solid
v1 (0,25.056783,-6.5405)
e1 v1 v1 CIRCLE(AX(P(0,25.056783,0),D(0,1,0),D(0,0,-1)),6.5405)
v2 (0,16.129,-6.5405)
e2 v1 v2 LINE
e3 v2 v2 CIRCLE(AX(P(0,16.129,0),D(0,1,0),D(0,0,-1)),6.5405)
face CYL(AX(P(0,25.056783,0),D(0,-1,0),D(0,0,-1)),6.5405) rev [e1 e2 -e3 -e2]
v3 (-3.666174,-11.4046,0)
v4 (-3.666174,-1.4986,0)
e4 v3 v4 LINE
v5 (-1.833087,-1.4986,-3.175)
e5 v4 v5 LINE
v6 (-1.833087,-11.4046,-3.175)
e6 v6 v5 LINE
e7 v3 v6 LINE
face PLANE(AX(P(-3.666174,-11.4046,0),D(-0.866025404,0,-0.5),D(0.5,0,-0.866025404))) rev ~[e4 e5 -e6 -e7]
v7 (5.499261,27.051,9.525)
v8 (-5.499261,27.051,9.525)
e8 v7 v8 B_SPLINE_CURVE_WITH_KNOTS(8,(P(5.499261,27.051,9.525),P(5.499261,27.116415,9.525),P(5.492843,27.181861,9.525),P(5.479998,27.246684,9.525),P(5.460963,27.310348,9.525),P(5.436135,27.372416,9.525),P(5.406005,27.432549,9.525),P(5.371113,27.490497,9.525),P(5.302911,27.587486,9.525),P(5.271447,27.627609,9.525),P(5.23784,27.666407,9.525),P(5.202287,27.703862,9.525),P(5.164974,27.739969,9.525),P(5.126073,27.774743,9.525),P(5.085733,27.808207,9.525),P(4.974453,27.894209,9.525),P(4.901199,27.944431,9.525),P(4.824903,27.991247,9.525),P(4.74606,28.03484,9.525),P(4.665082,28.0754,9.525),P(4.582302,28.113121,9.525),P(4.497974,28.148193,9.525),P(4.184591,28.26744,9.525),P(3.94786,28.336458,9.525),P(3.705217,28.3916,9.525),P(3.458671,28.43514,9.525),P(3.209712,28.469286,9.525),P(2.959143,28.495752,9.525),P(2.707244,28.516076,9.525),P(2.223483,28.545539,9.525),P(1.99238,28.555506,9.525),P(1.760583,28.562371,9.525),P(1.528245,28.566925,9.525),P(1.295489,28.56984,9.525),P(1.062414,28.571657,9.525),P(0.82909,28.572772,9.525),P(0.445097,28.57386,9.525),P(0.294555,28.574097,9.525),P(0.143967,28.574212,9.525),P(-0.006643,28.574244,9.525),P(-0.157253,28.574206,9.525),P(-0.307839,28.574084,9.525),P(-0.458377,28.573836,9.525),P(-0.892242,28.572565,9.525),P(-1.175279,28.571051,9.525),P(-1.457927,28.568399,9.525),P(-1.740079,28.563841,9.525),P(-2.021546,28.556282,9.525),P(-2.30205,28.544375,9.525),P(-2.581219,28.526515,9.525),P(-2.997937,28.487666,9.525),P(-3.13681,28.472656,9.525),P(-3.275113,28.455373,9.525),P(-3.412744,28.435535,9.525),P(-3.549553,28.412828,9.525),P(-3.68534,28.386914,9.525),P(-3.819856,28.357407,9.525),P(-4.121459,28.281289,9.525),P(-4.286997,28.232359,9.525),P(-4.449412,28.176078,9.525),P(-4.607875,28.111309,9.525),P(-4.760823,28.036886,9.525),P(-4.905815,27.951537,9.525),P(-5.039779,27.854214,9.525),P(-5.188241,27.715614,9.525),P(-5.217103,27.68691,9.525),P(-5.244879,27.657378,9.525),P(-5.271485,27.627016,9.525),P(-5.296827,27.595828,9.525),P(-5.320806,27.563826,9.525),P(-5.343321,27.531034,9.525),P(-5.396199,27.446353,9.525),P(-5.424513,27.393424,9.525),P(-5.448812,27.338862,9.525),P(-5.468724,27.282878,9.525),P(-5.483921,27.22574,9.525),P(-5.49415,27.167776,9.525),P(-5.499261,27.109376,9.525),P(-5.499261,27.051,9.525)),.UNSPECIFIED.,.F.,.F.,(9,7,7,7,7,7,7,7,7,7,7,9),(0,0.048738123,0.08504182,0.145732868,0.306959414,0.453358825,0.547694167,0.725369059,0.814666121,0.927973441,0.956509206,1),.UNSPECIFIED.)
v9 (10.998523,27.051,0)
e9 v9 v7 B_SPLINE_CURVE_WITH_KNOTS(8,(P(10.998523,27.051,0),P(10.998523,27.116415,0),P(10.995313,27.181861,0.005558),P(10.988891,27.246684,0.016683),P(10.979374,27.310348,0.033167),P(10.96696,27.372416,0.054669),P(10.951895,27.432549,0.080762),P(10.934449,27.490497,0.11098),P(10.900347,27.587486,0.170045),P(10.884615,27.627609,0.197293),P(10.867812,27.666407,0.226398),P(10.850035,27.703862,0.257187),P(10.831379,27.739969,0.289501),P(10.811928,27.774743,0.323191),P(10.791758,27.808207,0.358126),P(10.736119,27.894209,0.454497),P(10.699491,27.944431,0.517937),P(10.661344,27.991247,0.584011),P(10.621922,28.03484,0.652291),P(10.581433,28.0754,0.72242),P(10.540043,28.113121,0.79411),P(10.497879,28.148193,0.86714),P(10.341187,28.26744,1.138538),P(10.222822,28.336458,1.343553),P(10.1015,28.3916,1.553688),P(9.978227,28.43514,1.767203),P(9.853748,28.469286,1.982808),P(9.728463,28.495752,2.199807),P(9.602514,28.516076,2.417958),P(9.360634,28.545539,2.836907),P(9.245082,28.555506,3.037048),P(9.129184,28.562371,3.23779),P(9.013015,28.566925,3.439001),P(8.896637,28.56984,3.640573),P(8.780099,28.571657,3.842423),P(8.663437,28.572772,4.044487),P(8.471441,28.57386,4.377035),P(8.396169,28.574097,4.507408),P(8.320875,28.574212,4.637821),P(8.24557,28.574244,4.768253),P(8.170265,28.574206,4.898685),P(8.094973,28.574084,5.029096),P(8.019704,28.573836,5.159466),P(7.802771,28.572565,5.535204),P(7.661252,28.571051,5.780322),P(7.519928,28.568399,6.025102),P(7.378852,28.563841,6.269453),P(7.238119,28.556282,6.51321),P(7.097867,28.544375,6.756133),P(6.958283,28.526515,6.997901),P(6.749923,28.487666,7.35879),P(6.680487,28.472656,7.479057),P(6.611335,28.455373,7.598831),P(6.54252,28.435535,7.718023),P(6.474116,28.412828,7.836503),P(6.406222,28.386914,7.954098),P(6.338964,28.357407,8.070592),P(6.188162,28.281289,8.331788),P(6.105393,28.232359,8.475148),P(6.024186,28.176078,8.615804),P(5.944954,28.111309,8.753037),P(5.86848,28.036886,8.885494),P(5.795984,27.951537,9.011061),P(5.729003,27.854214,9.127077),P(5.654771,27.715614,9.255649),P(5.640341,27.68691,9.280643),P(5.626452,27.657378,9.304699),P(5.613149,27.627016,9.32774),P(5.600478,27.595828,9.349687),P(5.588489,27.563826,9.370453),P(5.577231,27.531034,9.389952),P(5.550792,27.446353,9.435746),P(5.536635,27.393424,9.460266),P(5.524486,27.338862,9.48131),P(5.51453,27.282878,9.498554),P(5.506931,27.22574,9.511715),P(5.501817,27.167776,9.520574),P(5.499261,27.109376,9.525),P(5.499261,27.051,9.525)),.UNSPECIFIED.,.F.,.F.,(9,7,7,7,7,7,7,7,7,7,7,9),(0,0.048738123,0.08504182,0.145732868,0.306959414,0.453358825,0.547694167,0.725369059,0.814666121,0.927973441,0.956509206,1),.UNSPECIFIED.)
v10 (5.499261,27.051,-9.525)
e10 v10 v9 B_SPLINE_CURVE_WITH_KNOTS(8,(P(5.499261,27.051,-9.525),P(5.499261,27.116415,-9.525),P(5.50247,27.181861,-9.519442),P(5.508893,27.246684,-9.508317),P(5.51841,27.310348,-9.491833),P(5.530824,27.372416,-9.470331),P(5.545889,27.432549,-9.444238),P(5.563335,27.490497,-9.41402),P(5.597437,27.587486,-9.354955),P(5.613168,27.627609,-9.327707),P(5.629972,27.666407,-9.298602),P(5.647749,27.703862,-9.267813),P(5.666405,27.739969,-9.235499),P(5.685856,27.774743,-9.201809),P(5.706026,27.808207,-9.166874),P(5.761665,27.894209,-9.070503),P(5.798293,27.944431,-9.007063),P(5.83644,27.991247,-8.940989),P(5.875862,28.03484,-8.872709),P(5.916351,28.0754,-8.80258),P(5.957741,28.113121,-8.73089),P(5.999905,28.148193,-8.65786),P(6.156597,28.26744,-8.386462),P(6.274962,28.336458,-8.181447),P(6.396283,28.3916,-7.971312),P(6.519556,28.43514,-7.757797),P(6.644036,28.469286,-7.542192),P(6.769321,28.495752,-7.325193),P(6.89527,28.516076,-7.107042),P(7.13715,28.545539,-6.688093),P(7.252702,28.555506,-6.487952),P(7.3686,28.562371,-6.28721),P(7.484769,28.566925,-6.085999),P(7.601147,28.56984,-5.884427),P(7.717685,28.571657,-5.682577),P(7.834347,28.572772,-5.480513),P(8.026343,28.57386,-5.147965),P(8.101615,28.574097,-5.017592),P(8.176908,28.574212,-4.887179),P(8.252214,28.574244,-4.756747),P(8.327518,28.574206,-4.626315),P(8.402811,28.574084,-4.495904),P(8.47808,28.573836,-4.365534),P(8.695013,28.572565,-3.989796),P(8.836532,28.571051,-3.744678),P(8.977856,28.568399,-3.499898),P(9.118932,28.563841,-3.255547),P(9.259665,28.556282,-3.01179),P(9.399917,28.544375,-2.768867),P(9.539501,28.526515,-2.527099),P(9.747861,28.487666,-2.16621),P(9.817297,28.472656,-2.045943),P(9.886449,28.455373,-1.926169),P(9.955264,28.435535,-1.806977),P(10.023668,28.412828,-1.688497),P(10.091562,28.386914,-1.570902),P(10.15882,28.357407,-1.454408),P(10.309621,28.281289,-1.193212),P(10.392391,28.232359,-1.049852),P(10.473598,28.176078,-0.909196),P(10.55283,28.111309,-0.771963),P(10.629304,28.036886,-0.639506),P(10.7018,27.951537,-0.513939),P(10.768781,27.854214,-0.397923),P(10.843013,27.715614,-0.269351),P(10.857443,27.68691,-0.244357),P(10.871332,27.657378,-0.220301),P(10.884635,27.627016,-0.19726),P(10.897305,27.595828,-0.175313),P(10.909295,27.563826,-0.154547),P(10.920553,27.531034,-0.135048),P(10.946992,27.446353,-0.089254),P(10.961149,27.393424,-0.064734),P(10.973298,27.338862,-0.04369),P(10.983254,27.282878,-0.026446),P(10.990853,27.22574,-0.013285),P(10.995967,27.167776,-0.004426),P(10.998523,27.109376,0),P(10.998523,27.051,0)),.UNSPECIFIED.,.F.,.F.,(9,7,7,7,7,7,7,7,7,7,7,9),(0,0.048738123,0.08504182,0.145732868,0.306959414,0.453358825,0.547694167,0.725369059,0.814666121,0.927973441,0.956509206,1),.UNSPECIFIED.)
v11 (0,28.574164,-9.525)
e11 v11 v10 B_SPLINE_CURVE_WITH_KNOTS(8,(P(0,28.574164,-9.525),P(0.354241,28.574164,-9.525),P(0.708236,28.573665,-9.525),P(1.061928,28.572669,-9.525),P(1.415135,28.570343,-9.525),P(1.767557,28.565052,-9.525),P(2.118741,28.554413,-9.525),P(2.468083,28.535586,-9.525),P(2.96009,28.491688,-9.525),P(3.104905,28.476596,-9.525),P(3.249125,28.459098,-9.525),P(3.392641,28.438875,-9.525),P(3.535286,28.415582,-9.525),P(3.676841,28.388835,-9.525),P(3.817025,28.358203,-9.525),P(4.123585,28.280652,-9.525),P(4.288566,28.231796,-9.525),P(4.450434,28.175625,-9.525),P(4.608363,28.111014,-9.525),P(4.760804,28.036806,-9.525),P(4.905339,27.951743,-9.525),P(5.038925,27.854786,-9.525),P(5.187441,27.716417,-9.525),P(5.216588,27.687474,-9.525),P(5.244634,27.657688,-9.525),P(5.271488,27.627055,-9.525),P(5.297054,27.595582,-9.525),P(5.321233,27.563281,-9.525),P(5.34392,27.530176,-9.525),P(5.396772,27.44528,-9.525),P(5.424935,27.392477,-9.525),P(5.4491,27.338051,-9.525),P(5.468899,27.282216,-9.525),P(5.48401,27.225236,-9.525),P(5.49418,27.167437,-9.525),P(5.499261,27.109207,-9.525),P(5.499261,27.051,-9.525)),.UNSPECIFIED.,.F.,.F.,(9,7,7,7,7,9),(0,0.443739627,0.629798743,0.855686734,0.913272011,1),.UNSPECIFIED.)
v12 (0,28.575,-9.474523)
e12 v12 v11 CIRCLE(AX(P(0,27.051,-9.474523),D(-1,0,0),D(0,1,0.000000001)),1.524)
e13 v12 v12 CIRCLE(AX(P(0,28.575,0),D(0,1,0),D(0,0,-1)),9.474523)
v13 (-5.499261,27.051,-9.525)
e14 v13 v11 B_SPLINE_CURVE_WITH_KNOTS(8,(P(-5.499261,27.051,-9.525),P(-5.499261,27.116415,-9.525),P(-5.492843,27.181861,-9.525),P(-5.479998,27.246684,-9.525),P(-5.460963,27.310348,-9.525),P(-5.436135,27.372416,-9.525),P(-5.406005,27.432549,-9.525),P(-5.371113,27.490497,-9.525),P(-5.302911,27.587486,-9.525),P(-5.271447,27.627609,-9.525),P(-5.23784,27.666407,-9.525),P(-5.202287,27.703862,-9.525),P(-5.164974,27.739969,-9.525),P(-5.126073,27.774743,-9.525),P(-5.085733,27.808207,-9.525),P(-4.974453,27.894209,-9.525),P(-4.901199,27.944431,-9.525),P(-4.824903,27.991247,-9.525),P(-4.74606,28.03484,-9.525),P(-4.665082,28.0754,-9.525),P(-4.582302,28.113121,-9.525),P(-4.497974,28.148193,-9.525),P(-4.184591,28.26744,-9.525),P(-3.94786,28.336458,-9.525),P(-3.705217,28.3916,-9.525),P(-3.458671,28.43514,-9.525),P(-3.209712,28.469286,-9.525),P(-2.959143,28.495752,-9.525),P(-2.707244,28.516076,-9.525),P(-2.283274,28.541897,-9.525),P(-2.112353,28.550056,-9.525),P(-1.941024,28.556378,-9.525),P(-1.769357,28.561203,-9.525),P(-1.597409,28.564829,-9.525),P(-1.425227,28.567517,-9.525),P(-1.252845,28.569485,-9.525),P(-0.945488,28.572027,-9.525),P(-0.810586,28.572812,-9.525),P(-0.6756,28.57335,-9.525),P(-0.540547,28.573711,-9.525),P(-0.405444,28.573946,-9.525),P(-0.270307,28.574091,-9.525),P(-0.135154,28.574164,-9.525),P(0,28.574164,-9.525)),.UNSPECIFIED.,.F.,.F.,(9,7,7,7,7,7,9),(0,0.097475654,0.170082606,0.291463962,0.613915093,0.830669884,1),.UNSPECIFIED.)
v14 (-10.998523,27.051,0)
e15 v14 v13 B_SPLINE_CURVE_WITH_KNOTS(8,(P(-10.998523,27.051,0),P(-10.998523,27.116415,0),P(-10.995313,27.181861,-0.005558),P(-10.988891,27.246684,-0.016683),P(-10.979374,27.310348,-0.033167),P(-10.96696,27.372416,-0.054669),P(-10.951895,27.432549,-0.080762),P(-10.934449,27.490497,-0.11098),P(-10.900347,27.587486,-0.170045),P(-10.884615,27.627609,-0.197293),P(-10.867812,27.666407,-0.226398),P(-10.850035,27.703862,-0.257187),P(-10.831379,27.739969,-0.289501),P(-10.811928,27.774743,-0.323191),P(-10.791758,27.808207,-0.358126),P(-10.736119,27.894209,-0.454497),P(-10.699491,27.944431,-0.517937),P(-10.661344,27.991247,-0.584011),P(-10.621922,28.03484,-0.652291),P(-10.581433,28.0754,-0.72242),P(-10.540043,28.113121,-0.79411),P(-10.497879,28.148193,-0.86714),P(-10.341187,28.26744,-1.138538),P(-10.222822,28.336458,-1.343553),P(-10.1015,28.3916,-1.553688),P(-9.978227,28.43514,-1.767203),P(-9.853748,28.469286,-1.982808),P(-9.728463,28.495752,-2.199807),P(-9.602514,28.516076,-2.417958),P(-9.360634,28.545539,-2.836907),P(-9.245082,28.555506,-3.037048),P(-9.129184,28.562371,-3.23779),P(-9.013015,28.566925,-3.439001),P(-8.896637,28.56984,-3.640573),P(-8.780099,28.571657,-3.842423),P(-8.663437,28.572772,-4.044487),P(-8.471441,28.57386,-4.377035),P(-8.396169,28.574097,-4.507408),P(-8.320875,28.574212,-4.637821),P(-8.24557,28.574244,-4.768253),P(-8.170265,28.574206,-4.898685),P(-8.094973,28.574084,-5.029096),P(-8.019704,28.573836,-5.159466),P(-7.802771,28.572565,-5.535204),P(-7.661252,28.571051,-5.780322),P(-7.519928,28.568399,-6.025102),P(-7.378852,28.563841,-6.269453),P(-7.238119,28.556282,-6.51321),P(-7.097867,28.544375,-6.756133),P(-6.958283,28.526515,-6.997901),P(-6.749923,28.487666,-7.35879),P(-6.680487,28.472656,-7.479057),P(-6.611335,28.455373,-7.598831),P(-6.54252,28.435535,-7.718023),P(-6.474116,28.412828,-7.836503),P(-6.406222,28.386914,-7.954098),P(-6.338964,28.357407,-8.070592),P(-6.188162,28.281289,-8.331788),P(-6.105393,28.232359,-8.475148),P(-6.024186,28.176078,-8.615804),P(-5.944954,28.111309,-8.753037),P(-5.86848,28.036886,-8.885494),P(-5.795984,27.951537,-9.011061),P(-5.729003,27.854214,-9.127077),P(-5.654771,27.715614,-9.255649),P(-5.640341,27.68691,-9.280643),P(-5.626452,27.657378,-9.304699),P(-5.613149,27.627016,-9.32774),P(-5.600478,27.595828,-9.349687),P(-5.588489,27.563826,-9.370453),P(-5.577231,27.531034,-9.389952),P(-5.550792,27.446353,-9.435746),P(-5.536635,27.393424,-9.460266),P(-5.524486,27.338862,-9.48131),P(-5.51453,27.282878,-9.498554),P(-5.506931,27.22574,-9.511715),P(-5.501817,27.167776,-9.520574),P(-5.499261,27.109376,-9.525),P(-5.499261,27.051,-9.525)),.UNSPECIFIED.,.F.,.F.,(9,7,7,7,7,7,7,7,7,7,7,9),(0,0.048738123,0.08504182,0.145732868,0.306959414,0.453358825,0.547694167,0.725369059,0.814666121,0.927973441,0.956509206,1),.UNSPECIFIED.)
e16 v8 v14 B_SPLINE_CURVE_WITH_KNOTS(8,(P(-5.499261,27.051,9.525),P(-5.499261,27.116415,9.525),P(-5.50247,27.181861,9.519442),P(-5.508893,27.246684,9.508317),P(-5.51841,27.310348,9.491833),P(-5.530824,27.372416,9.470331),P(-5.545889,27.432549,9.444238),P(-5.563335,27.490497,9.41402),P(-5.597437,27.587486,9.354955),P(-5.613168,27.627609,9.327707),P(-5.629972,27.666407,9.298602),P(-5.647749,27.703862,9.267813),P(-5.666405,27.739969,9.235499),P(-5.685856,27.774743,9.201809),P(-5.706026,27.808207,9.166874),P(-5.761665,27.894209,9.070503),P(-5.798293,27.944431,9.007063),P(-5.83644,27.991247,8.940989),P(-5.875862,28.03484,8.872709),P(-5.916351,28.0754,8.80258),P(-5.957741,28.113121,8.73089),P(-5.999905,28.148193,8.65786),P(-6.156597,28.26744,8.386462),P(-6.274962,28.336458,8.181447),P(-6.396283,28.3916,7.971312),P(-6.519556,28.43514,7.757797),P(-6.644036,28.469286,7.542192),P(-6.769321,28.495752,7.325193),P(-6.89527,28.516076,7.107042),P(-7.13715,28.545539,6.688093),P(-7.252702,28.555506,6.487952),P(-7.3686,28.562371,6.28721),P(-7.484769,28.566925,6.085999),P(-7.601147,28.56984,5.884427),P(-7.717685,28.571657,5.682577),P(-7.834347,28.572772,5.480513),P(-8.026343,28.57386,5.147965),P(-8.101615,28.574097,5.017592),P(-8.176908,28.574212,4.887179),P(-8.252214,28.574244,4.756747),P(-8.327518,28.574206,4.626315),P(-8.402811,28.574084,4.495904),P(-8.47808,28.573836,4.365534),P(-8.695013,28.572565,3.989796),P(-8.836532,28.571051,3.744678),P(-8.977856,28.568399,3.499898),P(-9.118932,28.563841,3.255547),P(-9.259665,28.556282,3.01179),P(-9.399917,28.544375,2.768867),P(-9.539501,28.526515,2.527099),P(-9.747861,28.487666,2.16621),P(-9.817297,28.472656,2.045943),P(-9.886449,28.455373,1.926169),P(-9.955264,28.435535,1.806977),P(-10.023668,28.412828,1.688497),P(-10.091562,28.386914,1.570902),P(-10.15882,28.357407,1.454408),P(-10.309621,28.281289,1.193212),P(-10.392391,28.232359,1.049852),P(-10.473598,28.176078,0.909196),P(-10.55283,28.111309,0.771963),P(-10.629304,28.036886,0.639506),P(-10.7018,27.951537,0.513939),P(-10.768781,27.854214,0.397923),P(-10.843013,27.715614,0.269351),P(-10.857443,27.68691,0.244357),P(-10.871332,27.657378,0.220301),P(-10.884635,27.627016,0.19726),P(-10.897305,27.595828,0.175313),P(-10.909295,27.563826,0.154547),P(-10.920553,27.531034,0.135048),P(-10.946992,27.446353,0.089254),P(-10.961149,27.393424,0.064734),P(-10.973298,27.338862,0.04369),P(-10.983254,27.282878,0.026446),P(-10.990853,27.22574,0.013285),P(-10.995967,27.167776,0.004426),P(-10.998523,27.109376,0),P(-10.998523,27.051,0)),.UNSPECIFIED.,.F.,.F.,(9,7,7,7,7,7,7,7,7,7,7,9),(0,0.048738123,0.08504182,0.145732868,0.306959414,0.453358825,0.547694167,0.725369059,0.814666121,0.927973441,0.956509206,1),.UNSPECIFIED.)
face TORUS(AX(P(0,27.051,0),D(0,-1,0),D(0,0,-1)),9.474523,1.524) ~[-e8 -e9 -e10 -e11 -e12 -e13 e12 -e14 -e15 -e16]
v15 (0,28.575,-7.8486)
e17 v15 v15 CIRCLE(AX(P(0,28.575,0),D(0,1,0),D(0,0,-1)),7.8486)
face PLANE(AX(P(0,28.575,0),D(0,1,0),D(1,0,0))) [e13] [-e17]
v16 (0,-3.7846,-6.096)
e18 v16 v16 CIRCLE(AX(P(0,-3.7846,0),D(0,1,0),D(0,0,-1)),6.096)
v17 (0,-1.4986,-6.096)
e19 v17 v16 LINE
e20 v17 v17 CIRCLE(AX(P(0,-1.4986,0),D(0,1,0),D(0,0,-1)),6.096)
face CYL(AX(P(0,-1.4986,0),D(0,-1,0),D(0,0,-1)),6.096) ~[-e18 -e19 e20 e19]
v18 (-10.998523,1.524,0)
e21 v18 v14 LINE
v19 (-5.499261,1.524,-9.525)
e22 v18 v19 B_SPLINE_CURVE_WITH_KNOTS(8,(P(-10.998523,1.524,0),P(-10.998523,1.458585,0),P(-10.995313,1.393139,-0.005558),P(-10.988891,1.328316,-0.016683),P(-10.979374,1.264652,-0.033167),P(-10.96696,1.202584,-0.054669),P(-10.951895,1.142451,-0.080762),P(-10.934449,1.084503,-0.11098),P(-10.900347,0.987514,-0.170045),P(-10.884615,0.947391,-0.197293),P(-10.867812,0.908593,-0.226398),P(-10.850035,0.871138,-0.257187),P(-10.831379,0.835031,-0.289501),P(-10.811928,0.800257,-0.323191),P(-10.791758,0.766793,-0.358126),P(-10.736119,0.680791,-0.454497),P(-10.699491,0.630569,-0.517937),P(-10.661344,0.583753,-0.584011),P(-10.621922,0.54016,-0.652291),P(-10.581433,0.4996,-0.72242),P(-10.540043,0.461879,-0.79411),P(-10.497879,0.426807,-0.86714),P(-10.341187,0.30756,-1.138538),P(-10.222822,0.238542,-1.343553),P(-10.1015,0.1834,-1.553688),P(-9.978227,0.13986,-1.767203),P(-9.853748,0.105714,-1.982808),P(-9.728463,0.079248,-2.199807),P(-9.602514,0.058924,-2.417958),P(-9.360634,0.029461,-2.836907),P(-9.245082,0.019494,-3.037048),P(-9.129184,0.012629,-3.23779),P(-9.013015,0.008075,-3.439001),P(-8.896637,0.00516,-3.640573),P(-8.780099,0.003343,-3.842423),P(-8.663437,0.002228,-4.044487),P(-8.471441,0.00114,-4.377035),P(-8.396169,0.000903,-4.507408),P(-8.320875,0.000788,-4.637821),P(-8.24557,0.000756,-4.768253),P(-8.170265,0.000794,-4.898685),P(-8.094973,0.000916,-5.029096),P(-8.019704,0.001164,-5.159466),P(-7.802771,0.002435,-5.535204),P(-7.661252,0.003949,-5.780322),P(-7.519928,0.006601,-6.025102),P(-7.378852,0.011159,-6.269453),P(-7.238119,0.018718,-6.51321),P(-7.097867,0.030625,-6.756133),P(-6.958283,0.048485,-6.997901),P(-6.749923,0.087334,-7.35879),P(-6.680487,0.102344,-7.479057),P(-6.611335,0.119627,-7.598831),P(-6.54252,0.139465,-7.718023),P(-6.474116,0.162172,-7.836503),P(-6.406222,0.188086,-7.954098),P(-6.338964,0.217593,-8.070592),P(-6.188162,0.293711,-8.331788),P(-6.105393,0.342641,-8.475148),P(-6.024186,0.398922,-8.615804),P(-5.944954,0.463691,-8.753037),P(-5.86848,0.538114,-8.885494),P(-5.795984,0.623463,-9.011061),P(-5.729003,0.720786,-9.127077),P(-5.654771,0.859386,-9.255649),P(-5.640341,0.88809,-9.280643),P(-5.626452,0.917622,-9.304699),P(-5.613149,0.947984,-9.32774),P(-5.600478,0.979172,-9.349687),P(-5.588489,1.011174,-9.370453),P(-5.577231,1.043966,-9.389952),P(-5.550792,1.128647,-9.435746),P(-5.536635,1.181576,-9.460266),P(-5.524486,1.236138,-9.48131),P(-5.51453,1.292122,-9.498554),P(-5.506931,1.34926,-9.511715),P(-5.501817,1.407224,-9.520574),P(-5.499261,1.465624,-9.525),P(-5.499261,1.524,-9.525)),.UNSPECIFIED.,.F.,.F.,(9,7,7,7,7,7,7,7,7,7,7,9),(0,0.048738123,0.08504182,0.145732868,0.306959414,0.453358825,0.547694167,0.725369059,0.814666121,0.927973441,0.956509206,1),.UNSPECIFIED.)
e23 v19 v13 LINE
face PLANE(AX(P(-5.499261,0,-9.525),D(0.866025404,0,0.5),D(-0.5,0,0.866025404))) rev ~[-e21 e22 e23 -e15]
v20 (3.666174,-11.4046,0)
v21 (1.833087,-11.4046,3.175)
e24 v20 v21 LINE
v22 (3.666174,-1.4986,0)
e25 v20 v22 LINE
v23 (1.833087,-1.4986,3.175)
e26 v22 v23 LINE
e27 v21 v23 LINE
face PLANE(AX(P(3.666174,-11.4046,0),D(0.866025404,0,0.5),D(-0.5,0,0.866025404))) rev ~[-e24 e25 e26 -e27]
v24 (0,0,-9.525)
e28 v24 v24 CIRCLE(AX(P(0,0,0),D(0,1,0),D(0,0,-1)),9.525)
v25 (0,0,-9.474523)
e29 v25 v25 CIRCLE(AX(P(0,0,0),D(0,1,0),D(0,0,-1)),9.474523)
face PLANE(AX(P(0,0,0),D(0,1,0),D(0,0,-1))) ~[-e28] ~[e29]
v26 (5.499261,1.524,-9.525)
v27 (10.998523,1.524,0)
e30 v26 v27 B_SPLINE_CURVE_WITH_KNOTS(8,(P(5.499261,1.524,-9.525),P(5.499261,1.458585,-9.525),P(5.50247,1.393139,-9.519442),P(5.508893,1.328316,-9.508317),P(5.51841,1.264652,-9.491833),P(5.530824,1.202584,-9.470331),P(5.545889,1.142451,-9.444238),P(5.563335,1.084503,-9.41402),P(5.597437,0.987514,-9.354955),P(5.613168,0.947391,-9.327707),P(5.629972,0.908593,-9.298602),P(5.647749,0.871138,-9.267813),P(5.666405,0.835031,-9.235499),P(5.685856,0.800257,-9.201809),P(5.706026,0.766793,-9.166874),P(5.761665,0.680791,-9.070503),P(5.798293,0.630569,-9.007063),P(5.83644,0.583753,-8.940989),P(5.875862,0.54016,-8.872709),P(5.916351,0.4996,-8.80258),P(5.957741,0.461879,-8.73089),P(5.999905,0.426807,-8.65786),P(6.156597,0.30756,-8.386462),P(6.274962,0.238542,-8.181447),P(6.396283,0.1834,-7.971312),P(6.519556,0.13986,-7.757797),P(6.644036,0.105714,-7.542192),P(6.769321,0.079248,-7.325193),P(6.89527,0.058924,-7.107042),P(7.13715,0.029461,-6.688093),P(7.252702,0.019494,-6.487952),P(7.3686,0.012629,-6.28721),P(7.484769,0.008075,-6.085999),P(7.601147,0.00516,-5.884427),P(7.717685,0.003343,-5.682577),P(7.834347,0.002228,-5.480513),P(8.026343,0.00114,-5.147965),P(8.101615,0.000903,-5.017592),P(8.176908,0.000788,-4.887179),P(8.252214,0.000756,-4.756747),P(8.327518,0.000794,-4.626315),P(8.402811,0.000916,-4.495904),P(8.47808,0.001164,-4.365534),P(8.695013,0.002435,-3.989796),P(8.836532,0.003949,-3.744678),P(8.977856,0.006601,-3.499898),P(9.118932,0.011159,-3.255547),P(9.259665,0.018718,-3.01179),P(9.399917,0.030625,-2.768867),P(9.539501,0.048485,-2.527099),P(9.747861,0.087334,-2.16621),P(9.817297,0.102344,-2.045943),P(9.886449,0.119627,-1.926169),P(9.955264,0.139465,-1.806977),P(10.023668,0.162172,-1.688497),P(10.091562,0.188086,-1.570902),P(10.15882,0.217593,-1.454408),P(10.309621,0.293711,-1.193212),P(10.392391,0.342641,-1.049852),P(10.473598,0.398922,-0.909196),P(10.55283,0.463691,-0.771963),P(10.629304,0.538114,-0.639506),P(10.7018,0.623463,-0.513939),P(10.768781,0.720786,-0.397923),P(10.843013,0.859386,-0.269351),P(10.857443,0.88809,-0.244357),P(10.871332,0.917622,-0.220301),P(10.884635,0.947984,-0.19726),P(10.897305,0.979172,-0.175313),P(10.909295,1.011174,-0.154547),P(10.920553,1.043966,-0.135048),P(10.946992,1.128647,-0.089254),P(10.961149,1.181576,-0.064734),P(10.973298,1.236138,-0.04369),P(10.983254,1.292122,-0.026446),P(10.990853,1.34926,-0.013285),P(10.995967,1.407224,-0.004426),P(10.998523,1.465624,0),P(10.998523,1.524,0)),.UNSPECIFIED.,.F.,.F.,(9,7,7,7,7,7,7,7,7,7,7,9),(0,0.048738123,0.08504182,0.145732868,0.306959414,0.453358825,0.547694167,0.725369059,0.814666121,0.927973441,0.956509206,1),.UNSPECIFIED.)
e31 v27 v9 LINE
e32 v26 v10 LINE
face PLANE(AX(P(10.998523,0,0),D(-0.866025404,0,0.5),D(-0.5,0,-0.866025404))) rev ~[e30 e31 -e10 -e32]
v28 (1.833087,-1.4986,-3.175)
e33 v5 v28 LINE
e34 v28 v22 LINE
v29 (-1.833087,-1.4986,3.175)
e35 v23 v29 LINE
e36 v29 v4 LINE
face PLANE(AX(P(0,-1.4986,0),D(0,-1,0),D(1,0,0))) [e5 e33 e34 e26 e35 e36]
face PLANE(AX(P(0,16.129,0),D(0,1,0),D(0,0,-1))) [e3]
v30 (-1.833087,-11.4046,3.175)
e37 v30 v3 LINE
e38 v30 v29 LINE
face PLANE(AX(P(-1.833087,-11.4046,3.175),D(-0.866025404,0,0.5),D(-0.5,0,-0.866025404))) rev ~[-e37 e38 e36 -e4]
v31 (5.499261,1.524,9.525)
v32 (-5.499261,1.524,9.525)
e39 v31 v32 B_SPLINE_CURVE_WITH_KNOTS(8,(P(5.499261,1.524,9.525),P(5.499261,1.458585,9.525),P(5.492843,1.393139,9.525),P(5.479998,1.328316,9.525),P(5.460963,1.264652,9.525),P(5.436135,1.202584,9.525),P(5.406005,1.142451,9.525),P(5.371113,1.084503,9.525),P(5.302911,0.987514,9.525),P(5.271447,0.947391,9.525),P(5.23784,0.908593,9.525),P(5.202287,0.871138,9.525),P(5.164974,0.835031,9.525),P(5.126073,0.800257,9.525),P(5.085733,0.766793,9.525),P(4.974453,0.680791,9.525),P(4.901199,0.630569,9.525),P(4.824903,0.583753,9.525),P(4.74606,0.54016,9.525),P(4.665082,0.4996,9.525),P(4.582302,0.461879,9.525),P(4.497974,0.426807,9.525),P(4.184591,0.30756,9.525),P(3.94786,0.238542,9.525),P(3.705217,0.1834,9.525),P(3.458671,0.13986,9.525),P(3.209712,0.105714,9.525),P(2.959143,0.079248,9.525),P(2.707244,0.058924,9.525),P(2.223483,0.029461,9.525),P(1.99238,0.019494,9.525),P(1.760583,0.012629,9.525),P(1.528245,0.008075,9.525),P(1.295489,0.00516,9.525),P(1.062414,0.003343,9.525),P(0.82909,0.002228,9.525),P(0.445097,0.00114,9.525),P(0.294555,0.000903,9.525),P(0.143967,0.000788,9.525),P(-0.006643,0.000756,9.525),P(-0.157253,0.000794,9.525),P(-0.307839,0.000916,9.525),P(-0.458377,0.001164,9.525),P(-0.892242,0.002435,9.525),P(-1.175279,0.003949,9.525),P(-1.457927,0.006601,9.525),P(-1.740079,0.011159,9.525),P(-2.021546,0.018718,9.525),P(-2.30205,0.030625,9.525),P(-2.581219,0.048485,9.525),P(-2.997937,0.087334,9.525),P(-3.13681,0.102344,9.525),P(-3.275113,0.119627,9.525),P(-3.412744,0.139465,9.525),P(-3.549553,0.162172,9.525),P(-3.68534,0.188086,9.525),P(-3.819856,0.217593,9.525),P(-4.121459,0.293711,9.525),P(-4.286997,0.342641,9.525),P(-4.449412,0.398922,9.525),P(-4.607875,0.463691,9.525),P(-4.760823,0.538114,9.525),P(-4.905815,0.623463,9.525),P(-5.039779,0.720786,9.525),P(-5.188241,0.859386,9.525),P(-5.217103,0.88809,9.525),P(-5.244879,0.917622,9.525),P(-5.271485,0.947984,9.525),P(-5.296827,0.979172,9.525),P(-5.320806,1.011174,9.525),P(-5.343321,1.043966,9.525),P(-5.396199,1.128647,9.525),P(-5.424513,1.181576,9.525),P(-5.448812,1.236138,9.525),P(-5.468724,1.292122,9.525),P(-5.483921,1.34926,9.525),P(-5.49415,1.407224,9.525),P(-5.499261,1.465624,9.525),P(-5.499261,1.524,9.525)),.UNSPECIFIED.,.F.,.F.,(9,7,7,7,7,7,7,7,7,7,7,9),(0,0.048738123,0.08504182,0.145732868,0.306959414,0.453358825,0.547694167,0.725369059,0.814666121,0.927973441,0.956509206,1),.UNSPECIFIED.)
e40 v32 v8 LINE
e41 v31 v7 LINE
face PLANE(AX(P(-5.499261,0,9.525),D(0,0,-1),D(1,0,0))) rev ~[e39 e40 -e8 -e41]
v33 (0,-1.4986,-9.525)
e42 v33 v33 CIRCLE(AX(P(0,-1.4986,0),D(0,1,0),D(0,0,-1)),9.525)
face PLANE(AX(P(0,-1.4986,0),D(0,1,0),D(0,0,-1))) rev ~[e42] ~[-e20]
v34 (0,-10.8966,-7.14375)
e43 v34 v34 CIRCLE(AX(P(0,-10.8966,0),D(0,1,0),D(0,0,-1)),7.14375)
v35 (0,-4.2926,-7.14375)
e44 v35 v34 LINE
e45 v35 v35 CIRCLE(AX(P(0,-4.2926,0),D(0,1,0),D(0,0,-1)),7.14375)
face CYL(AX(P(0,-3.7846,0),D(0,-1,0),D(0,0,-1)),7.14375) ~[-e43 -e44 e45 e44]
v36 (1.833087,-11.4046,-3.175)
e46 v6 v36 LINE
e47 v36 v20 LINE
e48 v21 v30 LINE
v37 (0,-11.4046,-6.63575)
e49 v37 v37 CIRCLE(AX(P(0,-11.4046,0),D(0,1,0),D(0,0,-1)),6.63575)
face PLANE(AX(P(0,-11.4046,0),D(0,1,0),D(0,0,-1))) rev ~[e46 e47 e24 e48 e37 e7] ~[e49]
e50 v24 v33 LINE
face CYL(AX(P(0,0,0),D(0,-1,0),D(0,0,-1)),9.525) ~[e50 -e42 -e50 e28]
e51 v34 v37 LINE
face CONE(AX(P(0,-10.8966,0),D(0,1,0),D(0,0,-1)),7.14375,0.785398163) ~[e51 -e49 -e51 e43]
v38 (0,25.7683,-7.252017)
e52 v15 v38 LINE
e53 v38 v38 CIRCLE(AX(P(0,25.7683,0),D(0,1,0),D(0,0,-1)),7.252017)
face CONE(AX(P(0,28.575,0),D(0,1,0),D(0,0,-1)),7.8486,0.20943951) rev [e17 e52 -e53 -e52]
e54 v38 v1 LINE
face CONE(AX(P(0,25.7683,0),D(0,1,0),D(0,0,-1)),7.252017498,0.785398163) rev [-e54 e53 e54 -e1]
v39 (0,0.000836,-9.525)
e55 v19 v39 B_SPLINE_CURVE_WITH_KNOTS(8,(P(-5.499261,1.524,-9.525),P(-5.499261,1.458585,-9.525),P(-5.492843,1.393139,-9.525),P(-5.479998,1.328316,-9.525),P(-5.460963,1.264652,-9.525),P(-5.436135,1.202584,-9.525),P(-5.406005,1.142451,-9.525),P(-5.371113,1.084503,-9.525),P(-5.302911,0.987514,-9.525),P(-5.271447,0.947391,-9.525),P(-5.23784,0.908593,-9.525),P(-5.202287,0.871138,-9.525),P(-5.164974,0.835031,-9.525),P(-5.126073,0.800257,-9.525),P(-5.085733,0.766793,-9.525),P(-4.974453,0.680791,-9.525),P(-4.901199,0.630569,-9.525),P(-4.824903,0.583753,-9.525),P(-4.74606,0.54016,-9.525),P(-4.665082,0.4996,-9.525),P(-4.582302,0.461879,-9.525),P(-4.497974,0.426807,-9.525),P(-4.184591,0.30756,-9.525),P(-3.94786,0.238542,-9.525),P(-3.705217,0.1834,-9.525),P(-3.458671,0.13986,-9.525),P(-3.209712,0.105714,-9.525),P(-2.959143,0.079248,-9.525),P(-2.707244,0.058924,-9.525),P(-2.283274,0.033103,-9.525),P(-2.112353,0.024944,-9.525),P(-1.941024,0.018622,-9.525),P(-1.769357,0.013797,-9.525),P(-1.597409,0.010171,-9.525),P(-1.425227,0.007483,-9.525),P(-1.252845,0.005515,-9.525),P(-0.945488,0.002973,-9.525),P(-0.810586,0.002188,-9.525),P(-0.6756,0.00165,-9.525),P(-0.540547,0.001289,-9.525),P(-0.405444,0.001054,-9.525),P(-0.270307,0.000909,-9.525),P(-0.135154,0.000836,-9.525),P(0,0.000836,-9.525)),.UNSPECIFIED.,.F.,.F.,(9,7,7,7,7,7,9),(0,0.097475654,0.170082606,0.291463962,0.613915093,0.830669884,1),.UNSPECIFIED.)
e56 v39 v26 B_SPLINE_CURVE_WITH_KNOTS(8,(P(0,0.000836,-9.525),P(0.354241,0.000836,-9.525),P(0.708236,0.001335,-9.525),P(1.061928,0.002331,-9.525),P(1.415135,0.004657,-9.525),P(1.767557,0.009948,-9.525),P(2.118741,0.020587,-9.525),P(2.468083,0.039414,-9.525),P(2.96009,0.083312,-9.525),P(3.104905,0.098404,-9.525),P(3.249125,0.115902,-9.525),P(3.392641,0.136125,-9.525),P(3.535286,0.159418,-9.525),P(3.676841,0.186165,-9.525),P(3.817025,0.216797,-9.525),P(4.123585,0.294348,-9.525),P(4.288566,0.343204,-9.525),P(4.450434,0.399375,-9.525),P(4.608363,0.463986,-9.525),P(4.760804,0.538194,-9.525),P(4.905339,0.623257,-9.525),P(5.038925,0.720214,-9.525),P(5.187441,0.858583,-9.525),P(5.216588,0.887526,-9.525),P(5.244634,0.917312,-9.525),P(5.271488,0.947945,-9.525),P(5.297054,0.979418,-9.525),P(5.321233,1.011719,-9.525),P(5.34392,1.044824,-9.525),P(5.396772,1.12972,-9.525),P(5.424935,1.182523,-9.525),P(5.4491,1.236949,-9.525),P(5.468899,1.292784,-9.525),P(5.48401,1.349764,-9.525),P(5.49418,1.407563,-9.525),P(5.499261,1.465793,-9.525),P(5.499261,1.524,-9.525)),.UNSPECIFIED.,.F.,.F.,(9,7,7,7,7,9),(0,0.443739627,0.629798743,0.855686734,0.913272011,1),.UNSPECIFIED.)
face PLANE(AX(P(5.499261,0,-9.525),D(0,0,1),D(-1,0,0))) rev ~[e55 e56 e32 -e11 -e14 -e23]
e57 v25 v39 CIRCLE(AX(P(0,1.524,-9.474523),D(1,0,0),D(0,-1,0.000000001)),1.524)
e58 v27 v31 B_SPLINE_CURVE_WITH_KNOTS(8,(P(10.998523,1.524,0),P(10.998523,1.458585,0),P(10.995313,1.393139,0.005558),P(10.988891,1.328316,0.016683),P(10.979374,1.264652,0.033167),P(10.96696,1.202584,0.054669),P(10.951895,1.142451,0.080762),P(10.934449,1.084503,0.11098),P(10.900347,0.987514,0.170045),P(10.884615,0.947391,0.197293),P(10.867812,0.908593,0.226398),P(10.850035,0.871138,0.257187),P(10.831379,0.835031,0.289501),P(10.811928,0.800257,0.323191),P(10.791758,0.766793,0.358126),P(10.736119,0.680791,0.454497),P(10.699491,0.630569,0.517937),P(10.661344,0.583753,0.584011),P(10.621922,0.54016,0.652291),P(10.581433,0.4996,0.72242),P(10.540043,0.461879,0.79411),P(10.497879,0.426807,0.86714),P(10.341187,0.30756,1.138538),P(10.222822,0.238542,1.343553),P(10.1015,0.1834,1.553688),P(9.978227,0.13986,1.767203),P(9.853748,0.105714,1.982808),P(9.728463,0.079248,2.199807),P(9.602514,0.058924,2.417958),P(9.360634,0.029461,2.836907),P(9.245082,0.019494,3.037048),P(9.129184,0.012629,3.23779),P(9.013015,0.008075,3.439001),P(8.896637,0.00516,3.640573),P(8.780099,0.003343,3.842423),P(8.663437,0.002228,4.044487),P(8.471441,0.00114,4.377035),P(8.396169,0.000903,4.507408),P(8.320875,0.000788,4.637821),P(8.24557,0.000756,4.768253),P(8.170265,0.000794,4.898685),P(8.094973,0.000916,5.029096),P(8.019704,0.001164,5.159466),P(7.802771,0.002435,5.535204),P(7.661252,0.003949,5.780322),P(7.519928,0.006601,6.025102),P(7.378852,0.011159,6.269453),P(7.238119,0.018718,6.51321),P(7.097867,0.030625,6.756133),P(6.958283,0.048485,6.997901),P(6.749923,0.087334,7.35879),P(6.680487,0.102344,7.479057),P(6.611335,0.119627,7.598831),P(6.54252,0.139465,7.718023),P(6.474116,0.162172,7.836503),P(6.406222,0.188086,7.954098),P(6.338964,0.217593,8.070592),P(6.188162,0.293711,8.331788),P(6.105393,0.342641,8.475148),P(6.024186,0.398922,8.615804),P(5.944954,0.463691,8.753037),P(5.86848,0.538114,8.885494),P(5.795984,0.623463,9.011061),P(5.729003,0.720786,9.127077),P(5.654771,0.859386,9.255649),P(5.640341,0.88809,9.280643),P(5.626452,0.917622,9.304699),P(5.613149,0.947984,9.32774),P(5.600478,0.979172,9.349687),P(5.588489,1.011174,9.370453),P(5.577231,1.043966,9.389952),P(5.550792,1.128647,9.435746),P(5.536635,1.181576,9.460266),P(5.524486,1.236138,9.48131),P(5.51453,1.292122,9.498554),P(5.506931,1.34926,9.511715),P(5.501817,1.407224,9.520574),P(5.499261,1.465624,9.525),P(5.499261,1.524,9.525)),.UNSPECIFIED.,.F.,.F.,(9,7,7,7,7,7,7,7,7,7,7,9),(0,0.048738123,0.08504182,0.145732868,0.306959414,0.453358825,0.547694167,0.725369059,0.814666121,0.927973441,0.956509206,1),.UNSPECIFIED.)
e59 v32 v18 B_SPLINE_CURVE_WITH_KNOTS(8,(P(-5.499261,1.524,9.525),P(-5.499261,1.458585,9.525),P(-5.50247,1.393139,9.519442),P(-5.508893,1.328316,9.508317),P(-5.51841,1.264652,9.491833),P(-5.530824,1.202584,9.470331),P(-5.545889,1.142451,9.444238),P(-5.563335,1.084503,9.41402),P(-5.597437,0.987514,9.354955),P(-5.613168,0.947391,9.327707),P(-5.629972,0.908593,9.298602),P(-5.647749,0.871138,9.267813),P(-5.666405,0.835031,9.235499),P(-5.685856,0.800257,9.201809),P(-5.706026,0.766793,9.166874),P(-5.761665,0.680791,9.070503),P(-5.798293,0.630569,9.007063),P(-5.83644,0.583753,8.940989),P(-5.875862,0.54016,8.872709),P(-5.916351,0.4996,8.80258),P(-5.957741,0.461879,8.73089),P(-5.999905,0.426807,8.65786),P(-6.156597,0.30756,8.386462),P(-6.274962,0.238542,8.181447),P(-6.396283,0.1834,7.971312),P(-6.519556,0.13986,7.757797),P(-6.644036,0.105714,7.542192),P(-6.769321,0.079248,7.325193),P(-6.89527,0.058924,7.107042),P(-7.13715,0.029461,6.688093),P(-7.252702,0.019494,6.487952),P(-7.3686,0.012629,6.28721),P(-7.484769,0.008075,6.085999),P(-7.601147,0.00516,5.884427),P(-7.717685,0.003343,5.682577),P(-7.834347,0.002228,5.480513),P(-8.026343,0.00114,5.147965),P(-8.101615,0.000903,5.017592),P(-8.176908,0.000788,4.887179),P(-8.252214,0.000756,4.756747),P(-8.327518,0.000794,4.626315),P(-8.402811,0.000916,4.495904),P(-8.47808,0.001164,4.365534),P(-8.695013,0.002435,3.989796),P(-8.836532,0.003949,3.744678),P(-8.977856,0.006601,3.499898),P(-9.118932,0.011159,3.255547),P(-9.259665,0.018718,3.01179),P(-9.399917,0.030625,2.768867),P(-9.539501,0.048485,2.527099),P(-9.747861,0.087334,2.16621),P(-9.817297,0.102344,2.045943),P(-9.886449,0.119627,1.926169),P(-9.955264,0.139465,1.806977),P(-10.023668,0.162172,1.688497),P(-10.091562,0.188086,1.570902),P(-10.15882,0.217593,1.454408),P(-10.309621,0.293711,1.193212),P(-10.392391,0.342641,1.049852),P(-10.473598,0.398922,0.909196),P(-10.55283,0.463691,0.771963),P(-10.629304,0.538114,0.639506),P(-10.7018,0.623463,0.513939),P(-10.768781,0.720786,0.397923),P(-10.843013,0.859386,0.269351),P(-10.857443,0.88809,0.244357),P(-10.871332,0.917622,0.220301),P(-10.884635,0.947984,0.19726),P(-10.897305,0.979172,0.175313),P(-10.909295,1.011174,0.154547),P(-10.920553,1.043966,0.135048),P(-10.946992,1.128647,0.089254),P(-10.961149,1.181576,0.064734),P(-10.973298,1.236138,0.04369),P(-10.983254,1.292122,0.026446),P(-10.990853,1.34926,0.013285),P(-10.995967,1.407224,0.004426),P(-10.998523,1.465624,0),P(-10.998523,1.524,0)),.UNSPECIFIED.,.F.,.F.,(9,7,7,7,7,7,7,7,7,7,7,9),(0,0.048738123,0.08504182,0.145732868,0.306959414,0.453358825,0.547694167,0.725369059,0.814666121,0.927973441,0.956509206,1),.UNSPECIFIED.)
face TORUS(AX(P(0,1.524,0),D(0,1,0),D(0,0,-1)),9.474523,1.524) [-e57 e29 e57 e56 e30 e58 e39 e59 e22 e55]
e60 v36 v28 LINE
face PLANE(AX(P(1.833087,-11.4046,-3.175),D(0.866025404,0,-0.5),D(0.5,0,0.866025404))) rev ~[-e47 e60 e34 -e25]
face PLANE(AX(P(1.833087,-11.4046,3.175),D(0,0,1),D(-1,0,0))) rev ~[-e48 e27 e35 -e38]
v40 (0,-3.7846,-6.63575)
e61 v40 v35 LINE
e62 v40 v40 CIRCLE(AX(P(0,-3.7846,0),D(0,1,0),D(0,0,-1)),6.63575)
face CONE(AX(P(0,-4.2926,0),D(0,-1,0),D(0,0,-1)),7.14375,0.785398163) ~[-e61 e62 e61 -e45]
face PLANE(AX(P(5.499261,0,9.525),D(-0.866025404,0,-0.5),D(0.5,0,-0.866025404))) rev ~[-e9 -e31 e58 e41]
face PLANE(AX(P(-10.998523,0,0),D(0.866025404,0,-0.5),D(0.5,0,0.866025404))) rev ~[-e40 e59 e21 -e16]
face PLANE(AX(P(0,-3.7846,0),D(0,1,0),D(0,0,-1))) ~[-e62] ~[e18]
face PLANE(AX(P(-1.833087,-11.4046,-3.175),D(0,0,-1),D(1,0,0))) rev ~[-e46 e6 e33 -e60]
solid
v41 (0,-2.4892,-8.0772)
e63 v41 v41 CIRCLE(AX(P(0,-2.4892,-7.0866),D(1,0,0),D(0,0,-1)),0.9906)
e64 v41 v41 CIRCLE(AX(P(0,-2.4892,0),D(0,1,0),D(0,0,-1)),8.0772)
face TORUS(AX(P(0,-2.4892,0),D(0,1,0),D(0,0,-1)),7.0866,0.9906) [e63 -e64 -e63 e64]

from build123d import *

# Parameters (mm, degrees)
EXTRUDE1_DEPTH     = 28.575
CHAMFER1_SIZE      = 0.508
SKETCH7_R          = 0.9906
CUT_EXTRUDE1_DEPTH = 9.906


with BuildPart() as part:
    # Sketch1 → Extrude1 (new body)
    with BuildSketch(Plane(origin=(0, 0, 0), x_dir=(1, 0, 0), z_dir=(0, 1, 0))):
        Polygon((10.998522628, 0), (5.499261314, 9.525), (-5.499261314, 9.525), (-10.998522628, 0), (-5.499261314, -9.525), (5.499261314, -9.525), align=None)
    extrude(amount=EXTRUDE1_DEPTH)

    # Sketch2 → Cut-Revolve1 (revolve, cut)
    with BuildSketch(Plane.XY, mode=Mode.PRIVATE) as cut_revolve1_sk:
        with BuildLine():
            Line((10.998522628, 28.575), (9.474522628, 28.575))
            ThreePointArc((9.474522628, 28.575), (10.552153363, 28.128630735), (10.998522628, 27.051))
            Line((10.998522628, 27.051), (10.998522628, 28.575))
        make_face()
    revolve(cut_revolve1_sk.sketch.rotate(Axis((0, 26.9748, 0), (0, 1, 0)), 90), axis=Axis((0, 26.9748, 0), (0, 1, 0)), mode=Mode.SUBTRACT)  # turned: the seam where the file's is

    # Sketch3 → Cut-Revolve2 (revolve, cut)
    with BuildSketch(Plane.XY, mode=Mode.PRIVATE) as cut_revolve2_sk:
        with BuildLine():
            Line((10.998522628, 0), (9.474522628, 0))
            ThreePointArc((9.474522628, 0), (10.552153363, 0.446369265), (10.998522628, 1.524))
            Line((10.998522628, 1.524), (10.998522628, 0))
        make_face()
    revolve(cut_revolve2_sk.sketch.rotate(Axis((0, -0.0762, 0), (0, 1, 0)), 90), axis=Axis((0, -0.0762, 0), (0, 1, 0)), mode=Mode.SUBTRACT)  # turned: the seam where the file's is

    # S2D0004 → Cut-Revolve3 (revolve, cut)
    with BuildSketch(Plane(origin=(0, 28.575, 0), x_dir=(1, 0, 0), z_dir=(0, 0, 1)), mode=Mode.PRIVATE) as cut_revolve3_sk:
        Polygon((0, 0), (7.8486, 0), (7.252017498, -2.8067), (6.5405, -3.518217498), (6.5405, -12.446), (0, -12.446), align=None)
    revolve(cut_revolve3_sk.sketch.rotate(Axis((0, 0, 0), (0, 1, 0)), 90), axis=Axis((0, 0, 0), (0, 1, 0)), mode=Mode.SUBTRACT)  # turned: the seam where the file's is

    # Sketch5 → Revolve1 (revolve)
    with BuildSketch(Plane.XY, mode=Mode.PRIVATE) as revolve1_sk:
        Polygon((0, 0), (9.525, 0), (9.525, -1.4986), (6.096, -1.4986), (6.096, -3.7846), (7.14375, -3.7846), (7.14375, -11.4046), (0, -11.4046), align=None)
    revolve(revolve1_sk.sketch.rotate(Axis((0, -14.936765322, 0), (0, 1, 0)), 90), axis=Axis((0, -14.936765322, 0), (0, 1, 0)))  # turned: the seam where the file's is

    # Chamfer1
    chamfer1_edges = [part.edges().sort_by_distance(p)[0] for p in [
        (0, -3.7846, 7.14375),
        (0, -11.4046, 7.14375),
    ]]
    chamfer(chamfer1_edges, length=CHAMFER1_SIZE)

    # Sketch8 → Cut-Extrude1 (cut)
    with BuildSketch(Plane.XZ.offset(11.4046)):
        Polygon((3.666174209, 0), (1.833087105, 3.175), (-1.833087105, 3.175), (-3.666174209, 0), (-1.833087105, -3.175), (1.833087105, -3.175), align=None)
    extrude(amount=-CUT_EXTRUDE1_DEPTH, mode=Mode.SUBTRACT)


with BuildPart() as body_2:
    # Sketch7 → Revolve3 (revolve)
    with BuildSketch(Plane.XY, mode=Mode.PRIVATE) as revolve3_sk:
        with Locations((7.0866, -2.4892)):
            Circle(SKETCH7_R)
    revolve(revolve3_sk.sketch.rotate(Axis((0, -3.08864, 0), (0, 1, 0)), 90), axis=Axis((0, -3.08864, 0), (0, 1, 0)))  # turned: the seam where the file's is


solid = Compound([part.part, body_2.part])
